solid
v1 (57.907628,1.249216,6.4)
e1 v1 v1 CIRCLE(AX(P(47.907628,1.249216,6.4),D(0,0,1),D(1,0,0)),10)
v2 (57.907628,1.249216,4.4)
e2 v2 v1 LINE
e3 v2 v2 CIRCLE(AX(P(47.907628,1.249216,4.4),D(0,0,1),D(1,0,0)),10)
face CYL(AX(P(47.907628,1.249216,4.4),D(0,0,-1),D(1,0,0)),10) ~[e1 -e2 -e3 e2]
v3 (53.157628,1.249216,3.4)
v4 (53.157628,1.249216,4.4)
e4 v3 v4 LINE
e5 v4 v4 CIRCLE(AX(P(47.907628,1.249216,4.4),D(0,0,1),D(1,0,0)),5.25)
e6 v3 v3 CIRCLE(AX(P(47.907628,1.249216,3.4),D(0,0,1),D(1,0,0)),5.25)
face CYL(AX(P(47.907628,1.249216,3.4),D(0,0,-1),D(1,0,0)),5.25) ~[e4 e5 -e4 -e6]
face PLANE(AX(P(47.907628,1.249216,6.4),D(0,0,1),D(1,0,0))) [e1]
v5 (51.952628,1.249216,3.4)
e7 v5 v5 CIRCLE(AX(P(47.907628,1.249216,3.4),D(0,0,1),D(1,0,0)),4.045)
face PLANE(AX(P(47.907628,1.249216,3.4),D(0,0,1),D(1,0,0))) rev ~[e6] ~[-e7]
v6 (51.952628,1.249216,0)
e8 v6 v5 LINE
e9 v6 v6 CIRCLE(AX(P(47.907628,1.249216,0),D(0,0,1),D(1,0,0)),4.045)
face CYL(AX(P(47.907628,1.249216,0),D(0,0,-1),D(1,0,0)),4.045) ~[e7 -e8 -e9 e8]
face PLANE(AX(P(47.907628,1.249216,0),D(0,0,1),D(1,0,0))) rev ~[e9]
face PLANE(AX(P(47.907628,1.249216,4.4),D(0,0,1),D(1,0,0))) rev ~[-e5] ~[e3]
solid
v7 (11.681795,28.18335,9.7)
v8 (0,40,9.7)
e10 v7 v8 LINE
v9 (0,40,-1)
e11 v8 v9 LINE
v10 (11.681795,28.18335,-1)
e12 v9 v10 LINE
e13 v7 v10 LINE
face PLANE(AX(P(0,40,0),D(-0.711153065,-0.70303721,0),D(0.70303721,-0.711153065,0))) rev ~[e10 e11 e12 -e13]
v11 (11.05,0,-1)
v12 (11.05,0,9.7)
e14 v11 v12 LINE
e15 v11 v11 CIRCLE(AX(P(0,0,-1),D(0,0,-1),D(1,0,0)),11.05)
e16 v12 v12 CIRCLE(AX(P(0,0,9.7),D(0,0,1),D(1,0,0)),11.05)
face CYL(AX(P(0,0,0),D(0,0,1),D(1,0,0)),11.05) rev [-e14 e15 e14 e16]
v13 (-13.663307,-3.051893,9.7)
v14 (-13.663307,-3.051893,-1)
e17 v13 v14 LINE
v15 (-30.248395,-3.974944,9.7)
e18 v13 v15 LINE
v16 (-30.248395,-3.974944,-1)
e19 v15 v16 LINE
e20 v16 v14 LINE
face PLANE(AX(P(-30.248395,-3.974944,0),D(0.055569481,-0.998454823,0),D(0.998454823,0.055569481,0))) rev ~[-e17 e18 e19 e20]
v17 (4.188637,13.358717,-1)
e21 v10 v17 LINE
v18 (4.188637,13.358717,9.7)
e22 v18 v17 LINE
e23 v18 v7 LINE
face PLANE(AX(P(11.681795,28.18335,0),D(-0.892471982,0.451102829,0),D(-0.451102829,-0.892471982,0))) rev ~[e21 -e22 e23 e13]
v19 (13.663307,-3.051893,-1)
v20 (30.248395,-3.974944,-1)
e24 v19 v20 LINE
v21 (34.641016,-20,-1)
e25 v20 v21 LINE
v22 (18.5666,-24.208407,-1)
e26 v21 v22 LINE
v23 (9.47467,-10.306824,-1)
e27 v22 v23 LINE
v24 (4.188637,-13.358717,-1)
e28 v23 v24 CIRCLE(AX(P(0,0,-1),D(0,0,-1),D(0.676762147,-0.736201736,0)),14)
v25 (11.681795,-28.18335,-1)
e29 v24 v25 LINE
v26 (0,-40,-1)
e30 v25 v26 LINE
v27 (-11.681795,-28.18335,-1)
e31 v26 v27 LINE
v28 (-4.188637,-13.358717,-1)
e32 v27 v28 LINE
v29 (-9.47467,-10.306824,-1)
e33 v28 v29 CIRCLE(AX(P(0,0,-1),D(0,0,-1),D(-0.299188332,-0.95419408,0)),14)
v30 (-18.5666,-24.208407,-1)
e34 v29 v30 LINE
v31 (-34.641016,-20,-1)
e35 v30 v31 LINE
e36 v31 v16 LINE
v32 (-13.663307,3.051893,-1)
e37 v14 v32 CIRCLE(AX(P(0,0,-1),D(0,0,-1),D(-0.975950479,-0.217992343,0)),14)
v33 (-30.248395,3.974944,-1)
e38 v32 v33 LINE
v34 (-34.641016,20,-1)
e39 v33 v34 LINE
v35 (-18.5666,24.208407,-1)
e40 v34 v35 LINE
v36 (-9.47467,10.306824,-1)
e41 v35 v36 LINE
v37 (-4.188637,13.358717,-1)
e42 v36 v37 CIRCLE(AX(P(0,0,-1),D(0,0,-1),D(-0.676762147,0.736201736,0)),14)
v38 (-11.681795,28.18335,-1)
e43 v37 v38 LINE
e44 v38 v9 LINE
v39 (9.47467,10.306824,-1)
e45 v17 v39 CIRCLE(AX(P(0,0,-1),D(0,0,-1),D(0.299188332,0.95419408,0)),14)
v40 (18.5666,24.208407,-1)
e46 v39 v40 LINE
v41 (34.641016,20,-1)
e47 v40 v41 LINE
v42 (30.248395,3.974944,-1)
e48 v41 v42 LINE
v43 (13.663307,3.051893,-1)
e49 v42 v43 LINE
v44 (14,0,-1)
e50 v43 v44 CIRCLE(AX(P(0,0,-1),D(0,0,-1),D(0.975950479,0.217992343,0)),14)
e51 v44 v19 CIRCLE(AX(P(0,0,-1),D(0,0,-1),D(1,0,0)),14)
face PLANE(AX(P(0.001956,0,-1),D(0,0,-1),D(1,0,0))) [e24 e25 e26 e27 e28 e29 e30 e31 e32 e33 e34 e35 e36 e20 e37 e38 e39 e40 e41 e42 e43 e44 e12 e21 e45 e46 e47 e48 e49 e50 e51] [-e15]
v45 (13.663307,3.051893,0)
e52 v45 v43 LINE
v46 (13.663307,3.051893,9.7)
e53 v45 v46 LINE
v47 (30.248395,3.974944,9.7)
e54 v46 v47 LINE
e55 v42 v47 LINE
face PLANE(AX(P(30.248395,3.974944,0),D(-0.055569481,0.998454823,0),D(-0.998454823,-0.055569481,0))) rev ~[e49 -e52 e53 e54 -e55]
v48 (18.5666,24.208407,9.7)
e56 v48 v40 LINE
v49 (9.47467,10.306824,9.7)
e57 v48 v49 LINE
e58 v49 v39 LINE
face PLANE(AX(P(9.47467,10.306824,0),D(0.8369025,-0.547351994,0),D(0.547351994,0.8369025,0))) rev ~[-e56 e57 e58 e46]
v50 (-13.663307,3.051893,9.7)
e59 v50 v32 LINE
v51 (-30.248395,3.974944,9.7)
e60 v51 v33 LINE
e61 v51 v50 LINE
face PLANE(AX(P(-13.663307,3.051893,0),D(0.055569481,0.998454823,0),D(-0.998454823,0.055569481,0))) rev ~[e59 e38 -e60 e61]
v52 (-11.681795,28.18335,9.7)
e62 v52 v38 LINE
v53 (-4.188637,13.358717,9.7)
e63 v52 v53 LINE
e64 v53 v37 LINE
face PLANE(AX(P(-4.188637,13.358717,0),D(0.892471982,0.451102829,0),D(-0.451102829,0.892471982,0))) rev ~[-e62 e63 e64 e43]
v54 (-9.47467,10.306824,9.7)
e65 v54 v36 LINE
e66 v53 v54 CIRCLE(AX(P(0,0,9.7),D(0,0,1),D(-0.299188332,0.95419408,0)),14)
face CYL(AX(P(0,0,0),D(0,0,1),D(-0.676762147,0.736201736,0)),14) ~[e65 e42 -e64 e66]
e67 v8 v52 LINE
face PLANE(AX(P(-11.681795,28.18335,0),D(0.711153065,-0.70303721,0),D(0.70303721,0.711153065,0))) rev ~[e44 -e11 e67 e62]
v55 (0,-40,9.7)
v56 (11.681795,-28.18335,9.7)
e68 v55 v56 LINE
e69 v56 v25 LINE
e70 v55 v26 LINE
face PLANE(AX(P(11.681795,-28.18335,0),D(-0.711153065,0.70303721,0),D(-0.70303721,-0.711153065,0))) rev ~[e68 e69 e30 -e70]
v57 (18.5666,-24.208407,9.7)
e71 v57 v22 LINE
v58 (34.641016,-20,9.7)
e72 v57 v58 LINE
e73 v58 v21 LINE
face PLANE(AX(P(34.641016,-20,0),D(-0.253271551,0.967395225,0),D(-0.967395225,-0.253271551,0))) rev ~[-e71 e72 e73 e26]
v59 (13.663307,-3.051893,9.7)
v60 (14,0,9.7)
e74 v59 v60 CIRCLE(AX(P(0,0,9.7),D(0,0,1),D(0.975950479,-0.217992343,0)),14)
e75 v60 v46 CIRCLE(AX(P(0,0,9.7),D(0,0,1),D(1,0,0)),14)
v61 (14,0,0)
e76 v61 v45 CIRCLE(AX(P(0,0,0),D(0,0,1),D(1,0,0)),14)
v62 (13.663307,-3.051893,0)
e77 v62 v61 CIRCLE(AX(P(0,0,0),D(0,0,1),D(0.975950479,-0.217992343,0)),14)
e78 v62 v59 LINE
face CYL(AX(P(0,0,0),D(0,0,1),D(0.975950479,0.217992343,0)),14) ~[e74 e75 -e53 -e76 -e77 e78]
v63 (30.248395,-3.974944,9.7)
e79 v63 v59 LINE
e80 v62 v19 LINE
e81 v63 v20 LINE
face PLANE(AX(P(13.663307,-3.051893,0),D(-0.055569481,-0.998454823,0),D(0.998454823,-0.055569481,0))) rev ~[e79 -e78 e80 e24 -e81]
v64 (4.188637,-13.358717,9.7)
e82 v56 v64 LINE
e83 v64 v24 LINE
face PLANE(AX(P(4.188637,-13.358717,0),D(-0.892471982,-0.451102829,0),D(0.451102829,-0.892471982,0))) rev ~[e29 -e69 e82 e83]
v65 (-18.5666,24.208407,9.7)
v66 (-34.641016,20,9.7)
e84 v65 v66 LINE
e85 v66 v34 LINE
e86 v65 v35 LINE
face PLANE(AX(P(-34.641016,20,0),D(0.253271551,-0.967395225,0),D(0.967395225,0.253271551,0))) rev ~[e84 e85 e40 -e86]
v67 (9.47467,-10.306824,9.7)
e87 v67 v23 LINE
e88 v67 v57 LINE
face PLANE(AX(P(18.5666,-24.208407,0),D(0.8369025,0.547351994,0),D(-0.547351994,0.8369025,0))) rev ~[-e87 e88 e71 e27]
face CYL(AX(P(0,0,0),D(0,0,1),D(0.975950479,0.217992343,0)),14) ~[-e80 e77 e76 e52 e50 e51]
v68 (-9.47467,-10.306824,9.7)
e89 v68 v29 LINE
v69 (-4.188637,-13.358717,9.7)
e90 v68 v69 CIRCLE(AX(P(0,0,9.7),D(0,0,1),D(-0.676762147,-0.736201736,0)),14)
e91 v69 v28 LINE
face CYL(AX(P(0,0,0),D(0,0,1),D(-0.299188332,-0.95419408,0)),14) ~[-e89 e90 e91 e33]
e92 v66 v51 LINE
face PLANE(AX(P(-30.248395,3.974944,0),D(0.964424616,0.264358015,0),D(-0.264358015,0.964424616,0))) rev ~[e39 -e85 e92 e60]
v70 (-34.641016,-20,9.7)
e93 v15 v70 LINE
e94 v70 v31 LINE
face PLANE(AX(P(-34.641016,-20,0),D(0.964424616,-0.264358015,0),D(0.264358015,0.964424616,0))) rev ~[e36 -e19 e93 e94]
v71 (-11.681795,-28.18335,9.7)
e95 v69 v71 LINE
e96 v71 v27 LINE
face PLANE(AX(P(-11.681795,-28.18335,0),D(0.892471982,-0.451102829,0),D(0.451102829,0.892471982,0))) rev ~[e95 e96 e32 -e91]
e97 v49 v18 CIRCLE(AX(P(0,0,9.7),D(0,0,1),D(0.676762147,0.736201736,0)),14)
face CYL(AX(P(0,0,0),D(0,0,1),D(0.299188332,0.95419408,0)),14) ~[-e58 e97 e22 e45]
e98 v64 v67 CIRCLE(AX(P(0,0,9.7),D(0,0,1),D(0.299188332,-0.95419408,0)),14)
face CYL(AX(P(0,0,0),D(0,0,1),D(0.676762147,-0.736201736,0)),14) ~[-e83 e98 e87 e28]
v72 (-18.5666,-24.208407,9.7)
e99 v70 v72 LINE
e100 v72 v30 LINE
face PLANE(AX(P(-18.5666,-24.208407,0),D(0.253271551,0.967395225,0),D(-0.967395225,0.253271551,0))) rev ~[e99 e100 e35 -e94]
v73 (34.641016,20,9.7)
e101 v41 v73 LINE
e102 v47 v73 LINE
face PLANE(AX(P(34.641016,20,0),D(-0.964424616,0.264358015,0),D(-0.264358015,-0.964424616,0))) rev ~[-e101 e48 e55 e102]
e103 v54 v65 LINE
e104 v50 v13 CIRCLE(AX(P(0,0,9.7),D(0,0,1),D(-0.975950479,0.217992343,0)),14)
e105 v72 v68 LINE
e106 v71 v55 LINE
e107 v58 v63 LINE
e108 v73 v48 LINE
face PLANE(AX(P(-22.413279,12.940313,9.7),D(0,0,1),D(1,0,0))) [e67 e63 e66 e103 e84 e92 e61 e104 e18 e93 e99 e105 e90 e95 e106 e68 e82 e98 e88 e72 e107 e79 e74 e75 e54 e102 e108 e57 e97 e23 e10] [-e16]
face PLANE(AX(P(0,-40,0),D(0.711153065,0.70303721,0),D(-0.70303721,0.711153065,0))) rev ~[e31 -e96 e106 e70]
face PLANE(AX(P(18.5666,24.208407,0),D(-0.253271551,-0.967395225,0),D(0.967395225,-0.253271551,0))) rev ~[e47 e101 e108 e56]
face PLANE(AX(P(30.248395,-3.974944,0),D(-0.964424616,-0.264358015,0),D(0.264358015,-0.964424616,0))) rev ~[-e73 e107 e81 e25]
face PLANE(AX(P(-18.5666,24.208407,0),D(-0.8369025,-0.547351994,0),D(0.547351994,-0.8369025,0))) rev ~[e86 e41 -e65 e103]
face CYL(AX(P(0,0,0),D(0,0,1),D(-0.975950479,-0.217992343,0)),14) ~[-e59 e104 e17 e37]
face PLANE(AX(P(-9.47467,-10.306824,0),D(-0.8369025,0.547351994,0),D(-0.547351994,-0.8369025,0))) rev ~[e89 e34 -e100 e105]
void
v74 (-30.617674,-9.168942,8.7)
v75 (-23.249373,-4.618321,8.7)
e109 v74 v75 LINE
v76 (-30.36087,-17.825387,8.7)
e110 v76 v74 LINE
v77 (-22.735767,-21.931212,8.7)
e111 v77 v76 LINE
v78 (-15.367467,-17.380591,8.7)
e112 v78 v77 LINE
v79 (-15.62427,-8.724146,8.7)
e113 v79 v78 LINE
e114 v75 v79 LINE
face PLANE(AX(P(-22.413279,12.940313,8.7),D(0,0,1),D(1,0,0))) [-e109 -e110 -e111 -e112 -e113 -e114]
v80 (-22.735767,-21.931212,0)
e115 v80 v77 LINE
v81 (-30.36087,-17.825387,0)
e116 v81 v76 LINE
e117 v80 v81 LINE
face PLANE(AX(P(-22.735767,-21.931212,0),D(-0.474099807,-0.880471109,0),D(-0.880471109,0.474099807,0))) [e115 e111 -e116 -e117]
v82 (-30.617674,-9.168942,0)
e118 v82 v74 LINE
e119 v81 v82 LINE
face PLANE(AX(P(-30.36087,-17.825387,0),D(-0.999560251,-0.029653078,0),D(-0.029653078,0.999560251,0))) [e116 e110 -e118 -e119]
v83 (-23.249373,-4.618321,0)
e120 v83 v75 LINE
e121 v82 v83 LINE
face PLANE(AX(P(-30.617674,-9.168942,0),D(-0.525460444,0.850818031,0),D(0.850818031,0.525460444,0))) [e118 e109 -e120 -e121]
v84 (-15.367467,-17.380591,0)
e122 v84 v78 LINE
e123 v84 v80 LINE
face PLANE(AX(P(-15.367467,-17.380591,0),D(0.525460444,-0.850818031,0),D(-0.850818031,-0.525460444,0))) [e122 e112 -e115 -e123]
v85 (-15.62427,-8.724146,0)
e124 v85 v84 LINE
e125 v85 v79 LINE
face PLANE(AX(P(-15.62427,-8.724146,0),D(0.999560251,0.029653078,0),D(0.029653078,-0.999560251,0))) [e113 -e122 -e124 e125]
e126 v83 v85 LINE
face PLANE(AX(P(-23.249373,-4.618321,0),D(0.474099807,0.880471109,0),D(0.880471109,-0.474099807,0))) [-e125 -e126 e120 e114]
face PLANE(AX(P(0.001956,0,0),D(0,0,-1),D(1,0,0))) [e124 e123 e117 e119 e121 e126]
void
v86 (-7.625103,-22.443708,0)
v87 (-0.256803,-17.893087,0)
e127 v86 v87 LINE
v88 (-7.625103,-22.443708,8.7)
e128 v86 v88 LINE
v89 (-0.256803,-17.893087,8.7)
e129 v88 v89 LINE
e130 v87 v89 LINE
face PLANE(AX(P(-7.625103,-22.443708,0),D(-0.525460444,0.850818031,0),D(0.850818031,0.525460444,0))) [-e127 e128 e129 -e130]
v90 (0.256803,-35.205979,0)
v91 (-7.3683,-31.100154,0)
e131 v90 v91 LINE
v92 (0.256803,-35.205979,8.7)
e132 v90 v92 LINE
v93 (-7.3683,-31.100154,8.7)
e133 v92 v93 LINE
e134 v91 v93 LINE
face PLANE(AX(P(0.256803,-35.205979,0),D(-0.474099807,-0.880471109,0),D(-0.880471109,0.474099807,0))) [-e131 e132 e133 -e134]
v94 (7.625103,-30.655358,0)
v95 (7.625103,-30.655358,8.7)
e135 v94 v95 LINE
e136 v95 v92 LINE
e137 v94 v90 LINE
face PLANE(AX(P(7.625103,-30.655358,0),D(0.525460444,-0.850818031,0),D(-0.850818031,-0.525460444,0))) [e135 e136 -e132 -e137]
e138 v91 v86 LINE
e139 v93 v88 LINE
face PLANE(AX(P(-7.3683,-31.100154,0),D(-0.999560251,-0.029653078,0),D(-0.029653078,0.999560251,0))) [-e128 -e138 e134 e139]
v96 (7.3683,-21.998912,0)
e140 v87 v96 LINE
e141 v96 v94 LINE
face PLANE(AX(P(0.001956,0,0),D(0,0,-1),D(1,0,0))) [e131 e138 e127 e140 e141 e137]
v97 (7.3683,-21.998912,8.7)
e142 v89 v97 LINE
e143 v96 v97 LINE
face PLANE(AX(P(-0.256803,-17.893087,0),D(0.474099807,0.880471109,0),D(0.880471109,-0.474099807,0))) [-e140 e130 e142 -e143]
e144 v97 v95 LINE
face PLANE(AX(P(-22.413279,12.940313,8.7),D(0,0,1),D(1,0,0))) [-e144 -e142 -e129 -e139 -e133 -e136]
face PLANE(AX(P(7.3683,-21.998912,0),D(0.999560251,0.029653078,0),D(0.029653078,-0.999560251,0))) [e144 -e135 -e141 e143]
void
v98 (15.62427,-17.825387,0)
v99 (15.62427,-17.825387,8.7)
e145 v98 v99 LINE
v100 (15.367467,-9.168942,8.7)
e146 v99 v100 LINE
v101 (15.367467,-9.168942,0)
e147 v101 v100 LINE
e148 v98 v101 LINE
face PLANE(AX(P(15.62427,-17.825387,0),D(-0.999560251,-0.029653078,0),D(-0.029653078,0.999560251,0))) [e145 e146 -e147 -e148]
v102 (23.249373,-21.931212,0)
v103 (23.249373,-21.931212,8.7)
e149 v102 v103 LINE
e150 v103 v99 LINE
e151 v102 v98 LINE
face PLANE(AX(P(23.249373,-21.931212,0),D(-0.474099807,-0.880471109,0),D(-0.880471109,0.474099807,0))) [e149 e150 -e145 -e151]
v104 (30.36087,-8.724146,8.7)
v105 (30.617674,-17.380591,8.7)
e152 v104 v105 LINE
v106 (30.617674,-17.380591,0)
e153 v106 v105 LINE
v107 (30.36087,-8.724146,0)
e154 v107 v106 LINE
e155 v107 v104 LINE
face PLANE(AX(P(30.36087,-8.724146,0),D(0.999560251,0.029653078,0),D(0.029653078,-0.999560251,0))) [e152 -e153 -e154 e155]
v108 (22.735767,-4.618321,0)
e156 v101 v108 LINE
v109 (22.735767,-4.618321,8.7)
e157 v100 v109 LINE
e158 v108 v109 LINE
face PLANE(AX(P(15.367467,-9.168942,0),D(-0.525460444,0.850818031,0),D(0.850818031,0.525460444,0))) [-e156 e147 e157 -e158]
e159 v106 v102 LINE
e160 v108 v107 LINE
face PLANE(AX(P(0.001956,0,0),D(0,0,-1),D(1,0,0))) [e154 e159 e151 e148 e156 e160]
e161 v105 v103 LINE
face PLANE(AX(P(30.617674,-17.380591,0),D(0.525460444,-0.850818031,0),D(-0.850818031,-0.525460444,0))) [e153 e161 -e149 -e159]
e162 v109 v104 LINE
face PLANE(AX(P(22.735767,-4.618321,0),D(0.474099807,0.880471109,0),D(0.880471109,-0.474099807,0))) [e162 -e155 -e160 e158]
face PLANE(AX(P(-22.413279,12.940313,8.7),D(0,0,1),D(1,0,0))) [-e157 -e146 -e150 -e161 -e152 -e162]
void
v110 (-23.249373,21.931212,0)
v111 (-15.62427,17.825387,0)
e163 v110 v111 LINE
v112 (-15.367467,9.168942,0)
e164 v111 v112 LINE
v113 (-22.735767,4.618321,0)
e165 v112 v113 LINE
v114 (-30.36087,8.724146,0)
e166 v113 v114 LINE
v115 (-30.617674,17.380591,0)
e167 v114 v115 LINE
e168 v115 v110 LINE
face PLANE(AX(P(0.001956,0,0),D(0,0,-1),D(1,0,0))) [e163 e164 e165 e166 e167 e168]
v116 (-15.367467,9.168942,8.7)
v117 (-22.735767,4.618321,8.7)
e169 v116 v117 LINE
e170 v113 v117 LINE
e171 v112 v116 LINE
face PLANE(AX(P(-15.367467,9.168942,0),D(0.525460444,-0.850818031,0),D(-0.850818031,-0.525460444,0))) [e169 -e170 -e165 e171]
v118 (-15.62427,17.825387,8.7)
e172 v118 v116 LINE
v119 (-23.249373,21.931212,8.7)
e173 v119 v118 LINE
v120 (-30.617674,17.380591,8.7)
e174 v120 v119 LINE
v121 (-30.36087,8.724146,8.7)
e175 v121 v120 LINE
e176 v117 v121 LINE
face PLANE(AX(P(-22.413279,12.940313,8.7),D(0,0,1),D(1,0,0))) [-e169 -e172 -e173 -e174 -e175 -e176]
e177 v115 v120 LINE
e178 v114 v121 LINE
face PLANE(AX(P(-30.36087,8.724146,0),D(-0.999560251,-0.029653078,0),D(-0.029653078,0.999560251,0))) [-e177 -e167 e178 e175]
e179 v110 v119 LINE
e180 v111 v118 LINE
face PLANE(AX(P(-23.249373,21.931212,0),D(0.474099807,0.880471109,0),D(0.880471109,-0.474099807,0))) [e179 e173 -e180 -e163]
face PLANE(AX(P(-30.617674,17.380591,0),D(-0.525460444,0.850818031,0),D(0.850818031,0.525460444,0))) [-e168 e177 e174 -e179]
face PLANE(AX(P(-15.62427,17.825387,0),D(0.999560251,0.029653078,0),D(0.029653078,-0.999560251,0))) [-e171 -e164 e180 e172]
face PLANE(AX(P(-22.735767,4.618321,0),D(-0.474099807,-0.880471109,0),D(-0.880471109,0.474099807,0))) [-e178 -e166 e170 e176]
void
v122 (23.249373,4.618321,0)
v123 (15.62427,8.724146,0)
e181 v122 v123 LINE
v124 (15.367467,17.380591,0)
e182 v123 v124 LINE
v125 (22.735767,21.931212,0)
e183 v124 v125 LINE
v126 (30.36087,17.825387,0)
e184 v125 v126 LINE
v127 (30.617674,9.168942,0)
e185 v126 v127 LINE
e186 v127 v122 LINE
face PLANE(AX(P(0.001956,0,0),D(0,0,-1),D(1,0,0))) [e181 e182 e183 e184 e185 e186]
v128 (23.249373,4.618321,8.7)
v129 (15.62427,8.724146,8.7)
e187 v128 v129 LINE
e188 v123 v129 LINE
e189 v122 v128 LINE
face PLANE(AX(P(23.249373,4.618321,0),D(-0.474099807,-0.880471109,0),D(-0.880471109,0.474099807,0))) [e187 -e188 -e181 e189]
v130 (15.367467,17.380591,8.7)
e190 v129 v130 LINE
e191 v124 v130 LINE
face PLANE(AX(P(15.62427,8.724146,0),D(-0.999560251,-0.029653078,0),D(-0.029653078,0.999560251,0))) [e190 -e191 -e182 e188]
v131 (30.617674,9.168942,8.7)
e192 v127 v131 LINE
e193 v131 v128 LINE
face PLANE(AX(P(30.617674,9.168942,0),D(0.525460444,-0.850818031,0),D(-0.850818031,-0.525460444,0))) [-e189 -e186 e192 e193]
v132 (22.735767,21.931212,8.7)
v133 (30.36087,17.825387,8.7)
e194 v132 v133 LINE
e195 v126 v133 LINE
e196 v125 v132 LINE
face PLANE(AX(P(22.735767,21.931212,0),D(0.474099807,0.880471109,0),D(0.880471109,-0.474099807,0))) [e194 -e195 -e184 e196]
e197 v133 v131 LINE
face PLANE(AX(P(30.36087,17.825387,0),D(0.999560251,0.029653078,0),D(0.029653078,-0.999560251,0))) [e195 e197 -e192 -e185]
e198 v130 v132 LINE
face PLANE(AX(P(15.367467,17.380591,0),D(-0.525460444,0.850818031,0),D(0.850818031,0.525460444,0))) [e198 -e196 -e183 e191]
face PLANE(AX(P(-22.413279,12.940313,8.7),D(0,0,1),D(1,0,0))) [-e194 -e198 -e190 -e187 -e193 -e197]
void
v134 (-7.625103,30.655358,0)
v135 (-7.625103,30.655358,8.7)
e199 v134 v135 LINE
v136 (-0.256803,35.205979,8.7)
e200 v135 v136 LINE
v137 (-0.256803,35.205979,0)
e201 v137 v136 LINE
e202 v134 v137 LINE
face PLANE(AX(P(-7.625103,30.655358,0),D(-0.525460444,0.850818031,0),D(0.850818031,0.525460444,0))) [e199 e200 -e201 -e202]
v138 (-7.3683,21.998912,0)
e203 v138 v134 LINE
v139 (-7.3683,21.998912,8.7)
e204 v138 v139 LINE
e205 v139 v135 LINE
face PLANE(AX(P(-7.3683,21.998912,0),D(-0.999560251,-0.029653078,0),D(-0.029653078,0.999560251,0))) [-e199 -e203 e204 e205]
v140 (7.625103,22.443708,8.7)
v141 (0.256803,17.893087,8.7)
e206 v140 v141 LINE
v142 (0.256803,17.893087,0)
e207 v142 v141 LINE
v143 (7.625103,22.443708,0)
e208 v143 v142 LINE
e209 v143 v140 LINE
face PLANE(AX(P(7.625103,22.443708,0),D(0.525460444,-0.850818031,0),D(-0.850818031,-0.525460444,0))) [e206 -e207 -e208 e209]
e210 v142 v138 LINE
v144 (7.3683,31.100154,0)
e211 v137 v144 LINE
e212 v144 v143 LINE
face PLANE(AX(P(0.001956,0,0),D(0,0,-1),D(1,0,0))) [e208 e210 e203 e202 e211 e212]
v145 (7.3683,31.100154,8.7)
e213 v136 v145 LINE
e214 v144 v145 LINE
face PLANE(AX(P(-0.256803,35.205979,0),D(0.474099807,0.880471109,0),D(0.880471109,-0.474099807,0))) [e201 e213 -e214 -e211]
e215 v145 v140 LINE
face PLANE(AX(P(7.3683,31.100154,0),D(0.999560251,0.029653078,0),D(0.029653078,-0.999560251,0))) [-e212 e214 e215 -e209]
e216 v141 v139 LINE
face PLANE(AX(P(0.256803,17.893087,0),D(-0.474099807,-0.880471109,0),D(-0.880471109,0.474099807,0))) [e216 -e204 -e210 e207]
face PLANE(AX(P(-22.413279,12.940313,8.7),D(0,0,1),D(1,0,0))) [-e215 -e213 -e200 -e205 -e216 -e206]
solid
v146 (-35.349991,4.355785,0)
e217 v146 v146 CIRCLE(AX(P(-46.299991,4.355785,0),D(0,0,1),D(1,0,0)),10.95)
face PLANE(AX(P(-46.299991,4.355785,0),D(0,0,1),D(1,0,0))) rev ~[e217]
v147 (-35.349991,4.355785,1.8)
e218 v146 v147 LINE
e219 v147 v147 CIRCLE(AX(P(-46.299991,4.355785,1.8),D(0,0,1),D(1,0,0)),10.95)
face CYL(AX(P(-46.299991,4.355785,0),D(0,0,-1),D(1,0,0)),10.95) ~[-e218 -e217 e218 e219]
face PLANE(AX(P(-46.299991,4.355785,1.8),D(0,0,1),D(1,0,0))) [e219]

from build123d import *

# Parameters (mm, degrees)
F0_R      = 11.05
F1_DEPTH  = 8.7
F2_R      = 11.05
F3_DEPTH  = 1
F4_R      = 11.05
F5_DEPTH  = 1
F6_R      = 10.95
F7_DEPTH  = 1.8
F8_R      = 4.045
F9_DEPTH  = 3.4
F11_R     = 5.25
F11_R_2   = 4.045
F10_R     = 4.045
F12_DEPTH = 1
F13_R     = 10
F13_R_2   = 5.25
F14_DEPTH = 2


with BuildPart() as f1:
    # F0 (on Top) → F1 (new body)
    with BuildSketch(Plane.XY):
        with BuildLine():
            ThreePointArc((-13.6633067113, 3.0518928083), (-12.124355653, 7), (-9.4746700573, 10.3068243075))
            Line((-9.4746700573, 10.3068243075), (-18.5665997977, 24.2084065057))
            Line((-18.5665997977, 24.2084065057), (-34.6410161514, 20))
            Line((-34.6410161514, 20), (-30.2483949179, 3.9749438338))
            Line((-30.2483949179, 3.9749438338), (-13.6633067113, 3.0518928083))
        make_face()
        Polygon((-30.6176735199, 17.3805912691), (-23.2493732329, 21.9312122028), (-15.6242697579, 17.8253874384), (-15.3674665699, 9.1689417404), (-22.7357668568, 4.6183208068), (-30.3608703318, 8.7241455711), align=None, mode=Mode.SUBTRACT)
        with BuildLine():
            Line((11.6817951202, 28.1833503395), (0, 40))
            Line((0, 40), (-11.6817951202, 28.1833503395))
            Line((-11.6817951202, 28.1833503395), (-4.188636654, 13.3587171158))
            ThreePointArc((-4.188636654, 13.3587171158), (0, 14), (4.188636654, 13.3587171158))
            Line((4.188636654, 13.3587171158), (11.6817951202, 28.1833503395))
        make_face()
        Polygon((7.3683002869, 31.1001539432), (7.625103475, 22.4437082452), (0.2568031881, 17.8930873115), (-7.3683002869, 21.9989120759), (-7.625103475, 30.6553577739), (-0.2568031881, 35.2059787075), align=None, mode=Mode.SUBTRACT)
        with BuildLine():
            Line((18.5665997977, 24.2084065057), (9.4746700573, 10.3068243075))
            ThreePointArc((9.4746700573, 10.3068243075), (12.124355653, 7), (13.6633067113, 3.0518928083))
            Line((13.6633067113, 3.0518928083), (30.2483949179, 3.9749438338))
            Line((30.2483949179, 3.9749438338), (34.6410161514, 20))
            Line((34.6410161514, 20), (18.5665997977, 24.2084065057))
        make_face()
        Polygon((30.3608703318, 17.8253874384), (30.6176735199, 9.1689417404), (23.2493732329, 4.6183208068), (15.6242697579, 8.7241455711), (15.3674665699, 17.3805912691), (22.7357668568, 21.9312122028), align=None, mode=Mode.SUBTRACT)
        with BuildLine():
            Line((30.2483949179, -3.9749438338), (13.6633067113, -3.0518928083))
            ThreePointArc((13.6633067113, -3.0518928083), (12.124355653, -7), (9.4746700573, -10.3068243075))
            Line((9.4746700573, -10.3068243075), (18.5665997977, -24.2084065057))
            Line((18.5665997977, -24.2084065057), (34.6410161514, -20))
            Line((34.6410161514, -20), (30.2483949179, -3.9749438338))
        make_face()
        Polygon((30.6176735199, -17.3805912691), (23.2493732329, -21.9312122028), (15.6242697579, -17.8253874384), (15.3674665699, -9.1689417404), (22.7357668568, -4.6183208068), (30.3608703318, -8.7241455711), align=None, mode=Mode.SUBTRACT)
        with BuildLine():
            ThreePointArc((4.188636654, -13.3587171158), (0, -14), (-4.188636654, -13.3587171158))
            Line((-4.188636654, -13.3587171158), (-11.6817951202, -28.1833503395))
            Line((-11.6817951202, -28.1833503395), (0, -40))
            Line((0, -40), (11.6817951202, -28.1833503395))
            Line((11.6817951202, -28.1833503395), (4.188636654, -13.3587171158))
        make_face()
        Polygon((0.2568031881, -35.2059787075), (-7.3683002869, -31.1001539432), (-7.625103475, -22.4437082452), (-0.2568031881, -17.8930873115), (7.3683002869, -21.9989120759), (7.625103475, -30.6553577739), align=None, mode=Mode.SUBTRACT)
        with BuildLine():
            ThreePointArc((-9.4746700573, -10.3068243075), (-12.124355653, -7), (-13.6633067113, -3.0518928083))
            Line((-13.6633067113, -3.0518928083), (-30.2483949179, -3.9749438338))
            Line((-30.2483949179, -3.9749438338), (-34.6410161514, -20))
            Line((-34.6410161514, -20), (-18.5665997977, -24.2084065057))
            Line((-18.5665997977, -24.2084065057), (-9.4746700573, -10.3068243075))
        make_face()
        Polygon((-30.3608703318, -17.8253874384), (-30.6176735199, -9.1689417404), (-23.2493732329, -4.6183208068), (-15.6242697579, -8.7241455711), (-15.3674665699, -17.3805912691), (-22.7357668568, -21.9312122028), align=None, mode=Mode.SUBTRACT)
        with BuildLine():
            ThreePointArc((4.188636654, 13.3587171158), (0, 14), (-4.188636654, 13.3587171158))
            ThreePointArc((-4.188636654, 13.3587171158), (-7, 12.124355653), (-9.4746700573, 10.3068243075))
            ThreePointArc((-9.4746700573, 10.3068243075), (-12.124355653, 7), (-13.6633067113, 3.0518928083))
            ThreePointArc((-13.6633067113, 3.0518928083), (-14, 0), (-13.6633067113, -3.0518928083))
            ThreePointArc((-13.6633067113, -3.0518928083), (-12.124355653, -7), (-9.4746700573, -10.3068243075))
            ThreePointArc((-9.4746700573, -10.3068243075), (-7, -12.124355653), (-4.188636654, -13.3587171158))
            ThreePointArc((-4.188636654, -13.3587171158), (0, -14), (4.188636654, -13.3587171158))
            ThreePointArc((4.188636654, -13.3587171158), (7, -12.124355653), (9.4746700573, -10.3068243075))
            ThreePointArc((9.4746700573, -10.3068243075), (12.124355653, -7), (13.6633067113, -3.0518928083))
            ThreePointArc((13.6633067113, -3.0518928083), (13.9155721039, -1.5352045535), (14, 0))
            ThreePointArc((14, 0), (13.9155721039, 1.5352045535), (13.6633067113, 3.0518928083))
            ThreePointArc((13.6633067113, 3.0518928083), (12.124355653, 7), (9.4746700573, 10.3068243075))
            ThreePointArc((9.4746700573, 10.3068243075), (7, 12.124355653), (4.188636654, 13.3587171158))
        make_face()
        Circle(F0_R, mode=Mode.SUBTRACT)
    extrude(amount=F1_DEPTH)

    # F2 (on face) → F3 (join)
    with BuildSketch(Plane.XY.offset(8.7)):
        with BuildLine():
            Line((-18.5665997977, 24.2084065057), (-34.6410161514, 20))
            Line((-34.6410161514, 20), (-30.2483949179, 3.9749438338))
            Line((-30.2483949179, 3.9749438338), (-13.6633067113, 3.0518928083))
            ThreePointArc((-13.6633067113, 3.0518928083), (-12.124355653, 7), (-9.4746700573, 10.3068243075))
            Line((-9.4746700573, 10.3068243075), (-18.5665997977, 24.2084065057))
        make_face()
        with BuildLine():
            ThreePointArc((-9.4746700573, 10.3068243075), (-12.124355653, 7), (-13.6633067113, 3.0518928083))
            ThreePointArc((-13.6633067113, 3.0518928083), (-14, 0), (-13.6633067113, -3.0518928083))
            ThreePointArc((-13.6633067113, -3.0518928083), (-12.124355653, -7), (-9.4746700573, -10.3068243075))
            ThreePointArc((-9.4746700573, -10.3068243075), (-7, -12.124355653), (-4.188636654, -13.3587171158))
            ThreePointArc((-4.188636654, -13.3587171158), (0, -14), (4.188636654, -13.3587171158))
            ThreePointArc((4.188636654, -13.3587171158), (7, -12.124355653), (9.4746700573, -10.3068243075))
            ThreePointArc((9.4746700573, -10.3068243075), (12.124355653, -7), (13.6633067113, -3.0518928083))
            ThreePointArc((13.6633067113, -3.0518928083), (13.9155721039, -1.5352045535), (14, 0))
            ThreePointArc((14, 0), (13.9155721039, 1.5352045535), (13.6633067113, 3.0518928083))
            ThreePointArc((13.6633067113, 3.0518928083), (12.124355653, 7), (9.4746700573, 10.3068243075))
            ThreePointArc((9.4746700573, 10.3068243075), (7, 12.124355653), (4.188636654, 13.3587171158))
            ThreePointArc((4.188636654, 13.3587171158), (0, 14), (-4.188636654, 13.3587171158))
            ThreePointArc((-4.188636654, 13.3587171158), (-7, 12.124355653), (-9.4746700573, 10.3068243075))
        make_face()
        Circle(F2_R, mode=Mode.SUBTRACT)
        with BuildLine():
            ThreePointArc((-9.4746700573, -10.3068243075), (-12.124355653, -7), (-13.6633067113, -3.0518928083))
            Line((-13.6633067113, -3.0518928083), (-30.2483949179, -3.9749438338))
            Line((-30.2483949179, -3.9749438338), (-34.6410161514, -20))
            Line((-34.6410161514, -20), (-18.5665997977, -24.2084065057))
            Line((-18.5665997977, -24.2084065057), (-9.4746700573, -10.3068243075))
        make_face()
        with BuildLine():
            Line((-11.6817951202, 28.1833503395), (-4.188636654, 13.3587171158))
            ThreePointArc((-4.188636654, 13.3587171158), (0, 14), (4.188636654, 13.3587171158))
            Line((4.188636654, 13.3587171158), (11.6817951202, 28.1833503395))
            Line((11.6817951202, 28.1833503395), (0, 40))
            Line((0, 40), (-11.6817951202, 28.1833503395))
        make_face()
        with BuildLine():
            ThreePointArc((4.188636654, -13.3587171158), (0, -14), (-4.188636654, -13.3587171158))
            Line((-4.188636654, -13.3587171158), (-11.6817951202, -28.1833503395))
            Line((-11.6817951202, -28.1833503395), (0, -40))
            Line((0, -40), (11.6817951202, -28.1833503395))
            Line((11.6817951202, -28.1833503395), (4.188636654, -13.3587171158))
        make_face()
        with BuildLine():
            Line((18.5665997977, 24.2084065057), (9.4746700573, 10.3068243075))
            ThreePointArc((9.4746700573, 10.3068243075), (12.124355653, 7), (13.6633067113, 3.0518928083))
            Line((13.6633067113, 3.0518928083), (30.2483949179, 3.9749438338))
            Line((30.2483949179, 3.9749438338), (34.6410161514, 20))
            Line((34.6410161514, 20), (18.5665997977, 24.2084065057))
        make_face()
        with BuildLine():
            ThreePointArc((13.6633067113, -3.0518928083), (12.124355653, -7), (9.4746700573, -10.3068243075))
            Line((9.4746700573, -10.3068243075), (18.5665997977, -24.2084065057))
            Line((18.5665997977, -24.2084065057), (34.6410161514, -20))
            Line((34.6410161514, -20), (30.2483949179, -3.9749438338))
            Line((30.2483949179, -3.9749438338), (13.6633067113, -3.0518928083))
        make_face()
    extrude(amount=F3_DEPTH)

    # F4 (on face) → F5 (join)
    with BuildSketch(Plane(origin=(0, 0, 0), x_dir=(1, 0, 0), z_dir=(0, 0, -1))):
        with BuildLine():
            ThreePointArc((13.6633067113, -3.0518928083), (13.9155721039, -1.5352045535), (14, 0))
            ThreePointArc((14, 0), (13.9155721039, 1.5352045535), (13.6633067113, 3.0518928083))
            ThreePointArc((13.6633067113, 3.0518928083), (12.124355653, 7), (9.4746700573, 10.3068243075))
            ThreePointArc((9.4746700573, 10.3068243075), (7, 12.124355653), (4.188636654, 13.3587171158))
            ThreePointArc((4.188636654, 13.3587171158), (0, 14), (-4.188636654, 13.3587171158))
            ThreePointArc((-4.188636654, 13.3587171158), (-7, 12.124355653), (-9.4746700573, 10.3068243075))
            ThreePointArc((-9.4746700573, 10.3068243075), (-12.124355653, 7), (-13.6633067113, 3.0518928083))
            ThreePointArc((-13.6633067113, 3.0518928083), (-14, 0), (-13.6633067113, -3.0518928083))
            ThreePointArc((-13.6633067113, -3.0518928083), (-12.124355653, -7), (-9.4746700573, -10.3068243075))
            ThreePointArc((-9.4746700573, -10.3068243075), (-7, -12.124355653), (-4.188636654, -13.3587171158))
            ThreePointArc((-4.188636654, -13.3587171158), (0, -14), (4.188636654, -13.3587171158))
            ThreePointArc((4.188636654, -13.3587171158), (7, -12.124355653), (9.4746700573, -10.3068243075))
            ThreePointArc((9.4746700573, -10.3068243075), (12.124355653, -7), (13.6633067113, -3.0518928083))
        make_face()
        Circle(F4_R, mode=Mode.SUBTRACT)
        with BuildLine():
            ThreePointArc((-13.6633067113, 3.0518928083), (-12.124355653, 7), (-9.4746700573, 10.3068243075))
            Line((-9.4746700573, 10.3068243075), (-18.5665997977, 24.2084065057))
            Line((-18.5665997977, 24.2084065057), (-34.6410161514, 20))
            Line((-34.6410161514, 20), (-30.2483949179, 3.9749438338))
            Line((-30.2483949179, 3.9749438338), (-13.6633067113, 3.0518928083))
        make_face()
        Polygon((-30.3608703318, 17.8253874384), (-22.7357668568, 21.9312122028), (-15.3674665699, 17.3805912691), (-15.6242697579, 8.7241455711), (-23.2493732329, 4.6183208068), (-30.6176735199, 9.1689417404), align=None, mode=Mode.SUBTRACT)
        with BuildLine():
            ThreePointArc((-4.188636654, 13.3587171158), (0, 14), (4.188636654, 13.3587171158))
            Line((4.188636654, 13.3587171158), (11.6817951202, 28.1833503395))
            Line((11.6817951202, 28.1833503395), (0, 40))
            Line((0, 40), (-11.6817951202, 28.1833503395))
            Line((-11.6817951202, 28.1833503395), (-4.188636654, 13.3587171158))
        make_face()
        Polygon((-7.3683002869, 31.1001539432), (0.2568031881, 35.2059787075), (7.625103475, 30.6553577739), (7.3683002869, 21.9989120759), (-0.2568031881, 17.8930873115), (-7.625103475, 22.4437082452), align=None, mode=Mode.SUBTRACT)
        with BuildLine():
            ThreePointArc((9.4746700573, 10.3068243075), (12.124355653, 7), (13.6633067113, 3.0518928083))
            Line((13.6633067113, 3.0518928083), (30.2483949179, 3.9749438338))
            Line((30.2483949179, 3.9749438338), (34.6410161514, 20))
            Line((34.6410161514, 20), (18.5665997977, 24.2084065057))
            Line((18.5665997977, 24.2084065057), (9.4746700573, 10.3068243075))
        make_face()
        Polygon((23.2493732329, 21.9312122028), (30.6176735199, 17.3805912691), (30.3608703318, 8.7241455711), (22.7357668568, 4.6183208068), (15.3674665699, 9.1689417404), (15.6242697579, 17.8253874384), align=None, mode=Mode.SUBTRACT)
        with BuildLine():
            Line((-18.5665997977, -24.2084065057), (-9.4746700573, -10.3068243075))
            ThreePointArc((-9.4746700573, -10.3068243075), (-12.124355653, -7), (-13.6633067113, -3.0518928083))
            Line((-13.6633067113, -3.0518928083), (-30.2483949179, -3.9749438338))
            Line((-30.2483949179, -3.9749438338), (-34.6410161514, -20))
            Line((-34.6410161514, -20), (-18.5665997977, -24.2084065057))
        make_face()
        Polygon((-15.6242697579, -17.8253874384), (-23.2493732329, -21.9312122028), (-30.6176735199, -17.3805912691), (-30.3608703318, -8.7241455711), (-22.7357668568, -4.6183208068), (-15.3674665699, -9.1689417404), align=None, mode=Mode.SUBTRACT)
        with BuildLine():
            Line((11.6817951202, -28.1833503395), (4.188636654, -13.3587171158))
            ThreePointArc((4.188636654, -13.3587171158), (0, -14), (-4.188636654, -13.3587171158))
            Line((-4.188636654, -13.3587171158), (-11.6817951202, -28.1833503395))
            Line((-11.6817951202, -28.1833503395), (0, -40))
            Line((0, -40), (11.6817951202, -28.1833503395))
        make_face()
        Polygon((7.625103475, -22.4437082452), (7.3683002869, -31.1001539432), (-0.2568031881, -35.2059787075), (-7.625103475, -30.6553577739), (-7.3683002869, -21.9989120759), (0.2568031881, -17.8930873115), align=None, mode=Mode.SUBTRACT)
        with BuildLine():
            Line((30.2483949179, -3.9749438338), (13.6633067113, -3.0518928083))
            ThreePointArc((13.6633067113, -3.0518928083), (12.124355653, -7), (9.4746700573, -10.3068243075))
            Line((9.4746700573, -10.3068243075), (18.5665997977, -24.2084065057))
            Line((18.5665997977, -24.2084065057), (34.6410161514, -20))
            Line((34.6410161514, -20), (30.2483949179, -3.9749438338))
        make_face()
        Polygon((30.3608703318, -17.8253874384), (22.7357668568, -21.9312122028), (15.3674665699, -17.3805912691), (15.6242697579, -8.7241455711), (23.2493732329, -4.6183208068), (30.6176735199, -9.1689417404), align=None, mode=Mode.SUBTRACT)
        Polygon((30.3608703318, 8.7241455711), (30.6176735199, 17.3805912691), (23.2493732329, 21.9312122028), (15.6242697579, 17.8253874384), (15.3674665699, 9.1689417404), (22.7357668568, 4.6183208068), align=None)
        Polygon((7.625103475, 30.6553577739), (0.2568031881, 35.2059787075), (-7.3683002869, 31.1001539432), (-7.625103475, 22.4437082452), (-0.2568031881, 17.8930873115), (7.3683002869, 21.9989120759), align=None)
        Polygon((-15.3674665699, 17.3805912691), (-22.7357668568, 21.9312122028), (-30.3608703318, 17.8253874384), (-30.6176735199, 9.1689417404), (-23.2493732329, 4.6183208068), (-15.6242697579, 8.7241455711), align=None)
        Polygon((-30.6176735199, -17.3805912691), (-23.2493732329, -21.9312122028), (-15.6242697579, -17.8253874384), (-15.3674665699, -9.1689417404), (-22.7357668568, -4.6183208068), (-30.3608703318, -8.7241455711), align=None)
        Polygon((-0.2568031881, -35.2059787075), (7.3683002869, -31.1001539432), (7.625103475, -22.4437082452), (0.2568031881, -17.8930873115), (-7.3683002869, -21.9989120759), (-7.625103475, -30.6553577739), align=None)
        Polygon((15.3674665699, -17.3805912691), (22.7357668568, -21.9312122028), (30.3608703318, -17.8253874384), (30.6176735199, -9.1689417404), (23.2493732329, -4.6183208068), (15.6242697579, -8.7241455711), align=None)
    extrude(amount=F5_DEPTH)


with BuildPart() as f7:
    # F6 (on Top) → F7 (new body)
    with BuildSketch(Plane.XY):
        with Locations((-46.2999908872, 4.3557849514)):
            Circle(F6_R)
    extrude(amount=F7_DEPTH)


with BuildPart() as f9:
    # F8 (on Top) → F9 (new body)
    with BuildSketch(Plane.XY):
        with Locations((47.907628119, 1.2492160313)):
            Circle(F8_R)
    extrude(amount=F9_DEPTH)

    # F11 (on face) + F10 (on face) → F12 (join)
    with BuildSketch(Plane.XY.offset(3.4)):
        with Locations((47.907628119, 1.2492160313)):
            Circle(F11_R)
        with Locations((47.907628119, 1.2492160313)):
            Circle(F11_R_2, mode=Mode.SUBTRACT)
    with BuildSketch(Plane.XY.offset(3.4)):
        with Locations((47.907628119, 1.2492160313)):
            Circle(F10_R)
    extrude(amount=F12_DEPTH)

    # F13 (on face) → F14 (join)
    with BuildSketch(Plane.XY.offset(4.4)):
        with Locations((47.907628119, 1.2492160313)):
            Circle(F13_R)
        with Locations((47.907628119, 1.2492160313)):
            Circle(F13_R_2, mode=Mode.SUBTRACT)
        with Locations((47.907628119, 1.2492160313)):
            Circle(F13_R_2)
    extrude(amount=F14_DEPTH)


solid = Compound([f1.part, f7.part, f9.part])
